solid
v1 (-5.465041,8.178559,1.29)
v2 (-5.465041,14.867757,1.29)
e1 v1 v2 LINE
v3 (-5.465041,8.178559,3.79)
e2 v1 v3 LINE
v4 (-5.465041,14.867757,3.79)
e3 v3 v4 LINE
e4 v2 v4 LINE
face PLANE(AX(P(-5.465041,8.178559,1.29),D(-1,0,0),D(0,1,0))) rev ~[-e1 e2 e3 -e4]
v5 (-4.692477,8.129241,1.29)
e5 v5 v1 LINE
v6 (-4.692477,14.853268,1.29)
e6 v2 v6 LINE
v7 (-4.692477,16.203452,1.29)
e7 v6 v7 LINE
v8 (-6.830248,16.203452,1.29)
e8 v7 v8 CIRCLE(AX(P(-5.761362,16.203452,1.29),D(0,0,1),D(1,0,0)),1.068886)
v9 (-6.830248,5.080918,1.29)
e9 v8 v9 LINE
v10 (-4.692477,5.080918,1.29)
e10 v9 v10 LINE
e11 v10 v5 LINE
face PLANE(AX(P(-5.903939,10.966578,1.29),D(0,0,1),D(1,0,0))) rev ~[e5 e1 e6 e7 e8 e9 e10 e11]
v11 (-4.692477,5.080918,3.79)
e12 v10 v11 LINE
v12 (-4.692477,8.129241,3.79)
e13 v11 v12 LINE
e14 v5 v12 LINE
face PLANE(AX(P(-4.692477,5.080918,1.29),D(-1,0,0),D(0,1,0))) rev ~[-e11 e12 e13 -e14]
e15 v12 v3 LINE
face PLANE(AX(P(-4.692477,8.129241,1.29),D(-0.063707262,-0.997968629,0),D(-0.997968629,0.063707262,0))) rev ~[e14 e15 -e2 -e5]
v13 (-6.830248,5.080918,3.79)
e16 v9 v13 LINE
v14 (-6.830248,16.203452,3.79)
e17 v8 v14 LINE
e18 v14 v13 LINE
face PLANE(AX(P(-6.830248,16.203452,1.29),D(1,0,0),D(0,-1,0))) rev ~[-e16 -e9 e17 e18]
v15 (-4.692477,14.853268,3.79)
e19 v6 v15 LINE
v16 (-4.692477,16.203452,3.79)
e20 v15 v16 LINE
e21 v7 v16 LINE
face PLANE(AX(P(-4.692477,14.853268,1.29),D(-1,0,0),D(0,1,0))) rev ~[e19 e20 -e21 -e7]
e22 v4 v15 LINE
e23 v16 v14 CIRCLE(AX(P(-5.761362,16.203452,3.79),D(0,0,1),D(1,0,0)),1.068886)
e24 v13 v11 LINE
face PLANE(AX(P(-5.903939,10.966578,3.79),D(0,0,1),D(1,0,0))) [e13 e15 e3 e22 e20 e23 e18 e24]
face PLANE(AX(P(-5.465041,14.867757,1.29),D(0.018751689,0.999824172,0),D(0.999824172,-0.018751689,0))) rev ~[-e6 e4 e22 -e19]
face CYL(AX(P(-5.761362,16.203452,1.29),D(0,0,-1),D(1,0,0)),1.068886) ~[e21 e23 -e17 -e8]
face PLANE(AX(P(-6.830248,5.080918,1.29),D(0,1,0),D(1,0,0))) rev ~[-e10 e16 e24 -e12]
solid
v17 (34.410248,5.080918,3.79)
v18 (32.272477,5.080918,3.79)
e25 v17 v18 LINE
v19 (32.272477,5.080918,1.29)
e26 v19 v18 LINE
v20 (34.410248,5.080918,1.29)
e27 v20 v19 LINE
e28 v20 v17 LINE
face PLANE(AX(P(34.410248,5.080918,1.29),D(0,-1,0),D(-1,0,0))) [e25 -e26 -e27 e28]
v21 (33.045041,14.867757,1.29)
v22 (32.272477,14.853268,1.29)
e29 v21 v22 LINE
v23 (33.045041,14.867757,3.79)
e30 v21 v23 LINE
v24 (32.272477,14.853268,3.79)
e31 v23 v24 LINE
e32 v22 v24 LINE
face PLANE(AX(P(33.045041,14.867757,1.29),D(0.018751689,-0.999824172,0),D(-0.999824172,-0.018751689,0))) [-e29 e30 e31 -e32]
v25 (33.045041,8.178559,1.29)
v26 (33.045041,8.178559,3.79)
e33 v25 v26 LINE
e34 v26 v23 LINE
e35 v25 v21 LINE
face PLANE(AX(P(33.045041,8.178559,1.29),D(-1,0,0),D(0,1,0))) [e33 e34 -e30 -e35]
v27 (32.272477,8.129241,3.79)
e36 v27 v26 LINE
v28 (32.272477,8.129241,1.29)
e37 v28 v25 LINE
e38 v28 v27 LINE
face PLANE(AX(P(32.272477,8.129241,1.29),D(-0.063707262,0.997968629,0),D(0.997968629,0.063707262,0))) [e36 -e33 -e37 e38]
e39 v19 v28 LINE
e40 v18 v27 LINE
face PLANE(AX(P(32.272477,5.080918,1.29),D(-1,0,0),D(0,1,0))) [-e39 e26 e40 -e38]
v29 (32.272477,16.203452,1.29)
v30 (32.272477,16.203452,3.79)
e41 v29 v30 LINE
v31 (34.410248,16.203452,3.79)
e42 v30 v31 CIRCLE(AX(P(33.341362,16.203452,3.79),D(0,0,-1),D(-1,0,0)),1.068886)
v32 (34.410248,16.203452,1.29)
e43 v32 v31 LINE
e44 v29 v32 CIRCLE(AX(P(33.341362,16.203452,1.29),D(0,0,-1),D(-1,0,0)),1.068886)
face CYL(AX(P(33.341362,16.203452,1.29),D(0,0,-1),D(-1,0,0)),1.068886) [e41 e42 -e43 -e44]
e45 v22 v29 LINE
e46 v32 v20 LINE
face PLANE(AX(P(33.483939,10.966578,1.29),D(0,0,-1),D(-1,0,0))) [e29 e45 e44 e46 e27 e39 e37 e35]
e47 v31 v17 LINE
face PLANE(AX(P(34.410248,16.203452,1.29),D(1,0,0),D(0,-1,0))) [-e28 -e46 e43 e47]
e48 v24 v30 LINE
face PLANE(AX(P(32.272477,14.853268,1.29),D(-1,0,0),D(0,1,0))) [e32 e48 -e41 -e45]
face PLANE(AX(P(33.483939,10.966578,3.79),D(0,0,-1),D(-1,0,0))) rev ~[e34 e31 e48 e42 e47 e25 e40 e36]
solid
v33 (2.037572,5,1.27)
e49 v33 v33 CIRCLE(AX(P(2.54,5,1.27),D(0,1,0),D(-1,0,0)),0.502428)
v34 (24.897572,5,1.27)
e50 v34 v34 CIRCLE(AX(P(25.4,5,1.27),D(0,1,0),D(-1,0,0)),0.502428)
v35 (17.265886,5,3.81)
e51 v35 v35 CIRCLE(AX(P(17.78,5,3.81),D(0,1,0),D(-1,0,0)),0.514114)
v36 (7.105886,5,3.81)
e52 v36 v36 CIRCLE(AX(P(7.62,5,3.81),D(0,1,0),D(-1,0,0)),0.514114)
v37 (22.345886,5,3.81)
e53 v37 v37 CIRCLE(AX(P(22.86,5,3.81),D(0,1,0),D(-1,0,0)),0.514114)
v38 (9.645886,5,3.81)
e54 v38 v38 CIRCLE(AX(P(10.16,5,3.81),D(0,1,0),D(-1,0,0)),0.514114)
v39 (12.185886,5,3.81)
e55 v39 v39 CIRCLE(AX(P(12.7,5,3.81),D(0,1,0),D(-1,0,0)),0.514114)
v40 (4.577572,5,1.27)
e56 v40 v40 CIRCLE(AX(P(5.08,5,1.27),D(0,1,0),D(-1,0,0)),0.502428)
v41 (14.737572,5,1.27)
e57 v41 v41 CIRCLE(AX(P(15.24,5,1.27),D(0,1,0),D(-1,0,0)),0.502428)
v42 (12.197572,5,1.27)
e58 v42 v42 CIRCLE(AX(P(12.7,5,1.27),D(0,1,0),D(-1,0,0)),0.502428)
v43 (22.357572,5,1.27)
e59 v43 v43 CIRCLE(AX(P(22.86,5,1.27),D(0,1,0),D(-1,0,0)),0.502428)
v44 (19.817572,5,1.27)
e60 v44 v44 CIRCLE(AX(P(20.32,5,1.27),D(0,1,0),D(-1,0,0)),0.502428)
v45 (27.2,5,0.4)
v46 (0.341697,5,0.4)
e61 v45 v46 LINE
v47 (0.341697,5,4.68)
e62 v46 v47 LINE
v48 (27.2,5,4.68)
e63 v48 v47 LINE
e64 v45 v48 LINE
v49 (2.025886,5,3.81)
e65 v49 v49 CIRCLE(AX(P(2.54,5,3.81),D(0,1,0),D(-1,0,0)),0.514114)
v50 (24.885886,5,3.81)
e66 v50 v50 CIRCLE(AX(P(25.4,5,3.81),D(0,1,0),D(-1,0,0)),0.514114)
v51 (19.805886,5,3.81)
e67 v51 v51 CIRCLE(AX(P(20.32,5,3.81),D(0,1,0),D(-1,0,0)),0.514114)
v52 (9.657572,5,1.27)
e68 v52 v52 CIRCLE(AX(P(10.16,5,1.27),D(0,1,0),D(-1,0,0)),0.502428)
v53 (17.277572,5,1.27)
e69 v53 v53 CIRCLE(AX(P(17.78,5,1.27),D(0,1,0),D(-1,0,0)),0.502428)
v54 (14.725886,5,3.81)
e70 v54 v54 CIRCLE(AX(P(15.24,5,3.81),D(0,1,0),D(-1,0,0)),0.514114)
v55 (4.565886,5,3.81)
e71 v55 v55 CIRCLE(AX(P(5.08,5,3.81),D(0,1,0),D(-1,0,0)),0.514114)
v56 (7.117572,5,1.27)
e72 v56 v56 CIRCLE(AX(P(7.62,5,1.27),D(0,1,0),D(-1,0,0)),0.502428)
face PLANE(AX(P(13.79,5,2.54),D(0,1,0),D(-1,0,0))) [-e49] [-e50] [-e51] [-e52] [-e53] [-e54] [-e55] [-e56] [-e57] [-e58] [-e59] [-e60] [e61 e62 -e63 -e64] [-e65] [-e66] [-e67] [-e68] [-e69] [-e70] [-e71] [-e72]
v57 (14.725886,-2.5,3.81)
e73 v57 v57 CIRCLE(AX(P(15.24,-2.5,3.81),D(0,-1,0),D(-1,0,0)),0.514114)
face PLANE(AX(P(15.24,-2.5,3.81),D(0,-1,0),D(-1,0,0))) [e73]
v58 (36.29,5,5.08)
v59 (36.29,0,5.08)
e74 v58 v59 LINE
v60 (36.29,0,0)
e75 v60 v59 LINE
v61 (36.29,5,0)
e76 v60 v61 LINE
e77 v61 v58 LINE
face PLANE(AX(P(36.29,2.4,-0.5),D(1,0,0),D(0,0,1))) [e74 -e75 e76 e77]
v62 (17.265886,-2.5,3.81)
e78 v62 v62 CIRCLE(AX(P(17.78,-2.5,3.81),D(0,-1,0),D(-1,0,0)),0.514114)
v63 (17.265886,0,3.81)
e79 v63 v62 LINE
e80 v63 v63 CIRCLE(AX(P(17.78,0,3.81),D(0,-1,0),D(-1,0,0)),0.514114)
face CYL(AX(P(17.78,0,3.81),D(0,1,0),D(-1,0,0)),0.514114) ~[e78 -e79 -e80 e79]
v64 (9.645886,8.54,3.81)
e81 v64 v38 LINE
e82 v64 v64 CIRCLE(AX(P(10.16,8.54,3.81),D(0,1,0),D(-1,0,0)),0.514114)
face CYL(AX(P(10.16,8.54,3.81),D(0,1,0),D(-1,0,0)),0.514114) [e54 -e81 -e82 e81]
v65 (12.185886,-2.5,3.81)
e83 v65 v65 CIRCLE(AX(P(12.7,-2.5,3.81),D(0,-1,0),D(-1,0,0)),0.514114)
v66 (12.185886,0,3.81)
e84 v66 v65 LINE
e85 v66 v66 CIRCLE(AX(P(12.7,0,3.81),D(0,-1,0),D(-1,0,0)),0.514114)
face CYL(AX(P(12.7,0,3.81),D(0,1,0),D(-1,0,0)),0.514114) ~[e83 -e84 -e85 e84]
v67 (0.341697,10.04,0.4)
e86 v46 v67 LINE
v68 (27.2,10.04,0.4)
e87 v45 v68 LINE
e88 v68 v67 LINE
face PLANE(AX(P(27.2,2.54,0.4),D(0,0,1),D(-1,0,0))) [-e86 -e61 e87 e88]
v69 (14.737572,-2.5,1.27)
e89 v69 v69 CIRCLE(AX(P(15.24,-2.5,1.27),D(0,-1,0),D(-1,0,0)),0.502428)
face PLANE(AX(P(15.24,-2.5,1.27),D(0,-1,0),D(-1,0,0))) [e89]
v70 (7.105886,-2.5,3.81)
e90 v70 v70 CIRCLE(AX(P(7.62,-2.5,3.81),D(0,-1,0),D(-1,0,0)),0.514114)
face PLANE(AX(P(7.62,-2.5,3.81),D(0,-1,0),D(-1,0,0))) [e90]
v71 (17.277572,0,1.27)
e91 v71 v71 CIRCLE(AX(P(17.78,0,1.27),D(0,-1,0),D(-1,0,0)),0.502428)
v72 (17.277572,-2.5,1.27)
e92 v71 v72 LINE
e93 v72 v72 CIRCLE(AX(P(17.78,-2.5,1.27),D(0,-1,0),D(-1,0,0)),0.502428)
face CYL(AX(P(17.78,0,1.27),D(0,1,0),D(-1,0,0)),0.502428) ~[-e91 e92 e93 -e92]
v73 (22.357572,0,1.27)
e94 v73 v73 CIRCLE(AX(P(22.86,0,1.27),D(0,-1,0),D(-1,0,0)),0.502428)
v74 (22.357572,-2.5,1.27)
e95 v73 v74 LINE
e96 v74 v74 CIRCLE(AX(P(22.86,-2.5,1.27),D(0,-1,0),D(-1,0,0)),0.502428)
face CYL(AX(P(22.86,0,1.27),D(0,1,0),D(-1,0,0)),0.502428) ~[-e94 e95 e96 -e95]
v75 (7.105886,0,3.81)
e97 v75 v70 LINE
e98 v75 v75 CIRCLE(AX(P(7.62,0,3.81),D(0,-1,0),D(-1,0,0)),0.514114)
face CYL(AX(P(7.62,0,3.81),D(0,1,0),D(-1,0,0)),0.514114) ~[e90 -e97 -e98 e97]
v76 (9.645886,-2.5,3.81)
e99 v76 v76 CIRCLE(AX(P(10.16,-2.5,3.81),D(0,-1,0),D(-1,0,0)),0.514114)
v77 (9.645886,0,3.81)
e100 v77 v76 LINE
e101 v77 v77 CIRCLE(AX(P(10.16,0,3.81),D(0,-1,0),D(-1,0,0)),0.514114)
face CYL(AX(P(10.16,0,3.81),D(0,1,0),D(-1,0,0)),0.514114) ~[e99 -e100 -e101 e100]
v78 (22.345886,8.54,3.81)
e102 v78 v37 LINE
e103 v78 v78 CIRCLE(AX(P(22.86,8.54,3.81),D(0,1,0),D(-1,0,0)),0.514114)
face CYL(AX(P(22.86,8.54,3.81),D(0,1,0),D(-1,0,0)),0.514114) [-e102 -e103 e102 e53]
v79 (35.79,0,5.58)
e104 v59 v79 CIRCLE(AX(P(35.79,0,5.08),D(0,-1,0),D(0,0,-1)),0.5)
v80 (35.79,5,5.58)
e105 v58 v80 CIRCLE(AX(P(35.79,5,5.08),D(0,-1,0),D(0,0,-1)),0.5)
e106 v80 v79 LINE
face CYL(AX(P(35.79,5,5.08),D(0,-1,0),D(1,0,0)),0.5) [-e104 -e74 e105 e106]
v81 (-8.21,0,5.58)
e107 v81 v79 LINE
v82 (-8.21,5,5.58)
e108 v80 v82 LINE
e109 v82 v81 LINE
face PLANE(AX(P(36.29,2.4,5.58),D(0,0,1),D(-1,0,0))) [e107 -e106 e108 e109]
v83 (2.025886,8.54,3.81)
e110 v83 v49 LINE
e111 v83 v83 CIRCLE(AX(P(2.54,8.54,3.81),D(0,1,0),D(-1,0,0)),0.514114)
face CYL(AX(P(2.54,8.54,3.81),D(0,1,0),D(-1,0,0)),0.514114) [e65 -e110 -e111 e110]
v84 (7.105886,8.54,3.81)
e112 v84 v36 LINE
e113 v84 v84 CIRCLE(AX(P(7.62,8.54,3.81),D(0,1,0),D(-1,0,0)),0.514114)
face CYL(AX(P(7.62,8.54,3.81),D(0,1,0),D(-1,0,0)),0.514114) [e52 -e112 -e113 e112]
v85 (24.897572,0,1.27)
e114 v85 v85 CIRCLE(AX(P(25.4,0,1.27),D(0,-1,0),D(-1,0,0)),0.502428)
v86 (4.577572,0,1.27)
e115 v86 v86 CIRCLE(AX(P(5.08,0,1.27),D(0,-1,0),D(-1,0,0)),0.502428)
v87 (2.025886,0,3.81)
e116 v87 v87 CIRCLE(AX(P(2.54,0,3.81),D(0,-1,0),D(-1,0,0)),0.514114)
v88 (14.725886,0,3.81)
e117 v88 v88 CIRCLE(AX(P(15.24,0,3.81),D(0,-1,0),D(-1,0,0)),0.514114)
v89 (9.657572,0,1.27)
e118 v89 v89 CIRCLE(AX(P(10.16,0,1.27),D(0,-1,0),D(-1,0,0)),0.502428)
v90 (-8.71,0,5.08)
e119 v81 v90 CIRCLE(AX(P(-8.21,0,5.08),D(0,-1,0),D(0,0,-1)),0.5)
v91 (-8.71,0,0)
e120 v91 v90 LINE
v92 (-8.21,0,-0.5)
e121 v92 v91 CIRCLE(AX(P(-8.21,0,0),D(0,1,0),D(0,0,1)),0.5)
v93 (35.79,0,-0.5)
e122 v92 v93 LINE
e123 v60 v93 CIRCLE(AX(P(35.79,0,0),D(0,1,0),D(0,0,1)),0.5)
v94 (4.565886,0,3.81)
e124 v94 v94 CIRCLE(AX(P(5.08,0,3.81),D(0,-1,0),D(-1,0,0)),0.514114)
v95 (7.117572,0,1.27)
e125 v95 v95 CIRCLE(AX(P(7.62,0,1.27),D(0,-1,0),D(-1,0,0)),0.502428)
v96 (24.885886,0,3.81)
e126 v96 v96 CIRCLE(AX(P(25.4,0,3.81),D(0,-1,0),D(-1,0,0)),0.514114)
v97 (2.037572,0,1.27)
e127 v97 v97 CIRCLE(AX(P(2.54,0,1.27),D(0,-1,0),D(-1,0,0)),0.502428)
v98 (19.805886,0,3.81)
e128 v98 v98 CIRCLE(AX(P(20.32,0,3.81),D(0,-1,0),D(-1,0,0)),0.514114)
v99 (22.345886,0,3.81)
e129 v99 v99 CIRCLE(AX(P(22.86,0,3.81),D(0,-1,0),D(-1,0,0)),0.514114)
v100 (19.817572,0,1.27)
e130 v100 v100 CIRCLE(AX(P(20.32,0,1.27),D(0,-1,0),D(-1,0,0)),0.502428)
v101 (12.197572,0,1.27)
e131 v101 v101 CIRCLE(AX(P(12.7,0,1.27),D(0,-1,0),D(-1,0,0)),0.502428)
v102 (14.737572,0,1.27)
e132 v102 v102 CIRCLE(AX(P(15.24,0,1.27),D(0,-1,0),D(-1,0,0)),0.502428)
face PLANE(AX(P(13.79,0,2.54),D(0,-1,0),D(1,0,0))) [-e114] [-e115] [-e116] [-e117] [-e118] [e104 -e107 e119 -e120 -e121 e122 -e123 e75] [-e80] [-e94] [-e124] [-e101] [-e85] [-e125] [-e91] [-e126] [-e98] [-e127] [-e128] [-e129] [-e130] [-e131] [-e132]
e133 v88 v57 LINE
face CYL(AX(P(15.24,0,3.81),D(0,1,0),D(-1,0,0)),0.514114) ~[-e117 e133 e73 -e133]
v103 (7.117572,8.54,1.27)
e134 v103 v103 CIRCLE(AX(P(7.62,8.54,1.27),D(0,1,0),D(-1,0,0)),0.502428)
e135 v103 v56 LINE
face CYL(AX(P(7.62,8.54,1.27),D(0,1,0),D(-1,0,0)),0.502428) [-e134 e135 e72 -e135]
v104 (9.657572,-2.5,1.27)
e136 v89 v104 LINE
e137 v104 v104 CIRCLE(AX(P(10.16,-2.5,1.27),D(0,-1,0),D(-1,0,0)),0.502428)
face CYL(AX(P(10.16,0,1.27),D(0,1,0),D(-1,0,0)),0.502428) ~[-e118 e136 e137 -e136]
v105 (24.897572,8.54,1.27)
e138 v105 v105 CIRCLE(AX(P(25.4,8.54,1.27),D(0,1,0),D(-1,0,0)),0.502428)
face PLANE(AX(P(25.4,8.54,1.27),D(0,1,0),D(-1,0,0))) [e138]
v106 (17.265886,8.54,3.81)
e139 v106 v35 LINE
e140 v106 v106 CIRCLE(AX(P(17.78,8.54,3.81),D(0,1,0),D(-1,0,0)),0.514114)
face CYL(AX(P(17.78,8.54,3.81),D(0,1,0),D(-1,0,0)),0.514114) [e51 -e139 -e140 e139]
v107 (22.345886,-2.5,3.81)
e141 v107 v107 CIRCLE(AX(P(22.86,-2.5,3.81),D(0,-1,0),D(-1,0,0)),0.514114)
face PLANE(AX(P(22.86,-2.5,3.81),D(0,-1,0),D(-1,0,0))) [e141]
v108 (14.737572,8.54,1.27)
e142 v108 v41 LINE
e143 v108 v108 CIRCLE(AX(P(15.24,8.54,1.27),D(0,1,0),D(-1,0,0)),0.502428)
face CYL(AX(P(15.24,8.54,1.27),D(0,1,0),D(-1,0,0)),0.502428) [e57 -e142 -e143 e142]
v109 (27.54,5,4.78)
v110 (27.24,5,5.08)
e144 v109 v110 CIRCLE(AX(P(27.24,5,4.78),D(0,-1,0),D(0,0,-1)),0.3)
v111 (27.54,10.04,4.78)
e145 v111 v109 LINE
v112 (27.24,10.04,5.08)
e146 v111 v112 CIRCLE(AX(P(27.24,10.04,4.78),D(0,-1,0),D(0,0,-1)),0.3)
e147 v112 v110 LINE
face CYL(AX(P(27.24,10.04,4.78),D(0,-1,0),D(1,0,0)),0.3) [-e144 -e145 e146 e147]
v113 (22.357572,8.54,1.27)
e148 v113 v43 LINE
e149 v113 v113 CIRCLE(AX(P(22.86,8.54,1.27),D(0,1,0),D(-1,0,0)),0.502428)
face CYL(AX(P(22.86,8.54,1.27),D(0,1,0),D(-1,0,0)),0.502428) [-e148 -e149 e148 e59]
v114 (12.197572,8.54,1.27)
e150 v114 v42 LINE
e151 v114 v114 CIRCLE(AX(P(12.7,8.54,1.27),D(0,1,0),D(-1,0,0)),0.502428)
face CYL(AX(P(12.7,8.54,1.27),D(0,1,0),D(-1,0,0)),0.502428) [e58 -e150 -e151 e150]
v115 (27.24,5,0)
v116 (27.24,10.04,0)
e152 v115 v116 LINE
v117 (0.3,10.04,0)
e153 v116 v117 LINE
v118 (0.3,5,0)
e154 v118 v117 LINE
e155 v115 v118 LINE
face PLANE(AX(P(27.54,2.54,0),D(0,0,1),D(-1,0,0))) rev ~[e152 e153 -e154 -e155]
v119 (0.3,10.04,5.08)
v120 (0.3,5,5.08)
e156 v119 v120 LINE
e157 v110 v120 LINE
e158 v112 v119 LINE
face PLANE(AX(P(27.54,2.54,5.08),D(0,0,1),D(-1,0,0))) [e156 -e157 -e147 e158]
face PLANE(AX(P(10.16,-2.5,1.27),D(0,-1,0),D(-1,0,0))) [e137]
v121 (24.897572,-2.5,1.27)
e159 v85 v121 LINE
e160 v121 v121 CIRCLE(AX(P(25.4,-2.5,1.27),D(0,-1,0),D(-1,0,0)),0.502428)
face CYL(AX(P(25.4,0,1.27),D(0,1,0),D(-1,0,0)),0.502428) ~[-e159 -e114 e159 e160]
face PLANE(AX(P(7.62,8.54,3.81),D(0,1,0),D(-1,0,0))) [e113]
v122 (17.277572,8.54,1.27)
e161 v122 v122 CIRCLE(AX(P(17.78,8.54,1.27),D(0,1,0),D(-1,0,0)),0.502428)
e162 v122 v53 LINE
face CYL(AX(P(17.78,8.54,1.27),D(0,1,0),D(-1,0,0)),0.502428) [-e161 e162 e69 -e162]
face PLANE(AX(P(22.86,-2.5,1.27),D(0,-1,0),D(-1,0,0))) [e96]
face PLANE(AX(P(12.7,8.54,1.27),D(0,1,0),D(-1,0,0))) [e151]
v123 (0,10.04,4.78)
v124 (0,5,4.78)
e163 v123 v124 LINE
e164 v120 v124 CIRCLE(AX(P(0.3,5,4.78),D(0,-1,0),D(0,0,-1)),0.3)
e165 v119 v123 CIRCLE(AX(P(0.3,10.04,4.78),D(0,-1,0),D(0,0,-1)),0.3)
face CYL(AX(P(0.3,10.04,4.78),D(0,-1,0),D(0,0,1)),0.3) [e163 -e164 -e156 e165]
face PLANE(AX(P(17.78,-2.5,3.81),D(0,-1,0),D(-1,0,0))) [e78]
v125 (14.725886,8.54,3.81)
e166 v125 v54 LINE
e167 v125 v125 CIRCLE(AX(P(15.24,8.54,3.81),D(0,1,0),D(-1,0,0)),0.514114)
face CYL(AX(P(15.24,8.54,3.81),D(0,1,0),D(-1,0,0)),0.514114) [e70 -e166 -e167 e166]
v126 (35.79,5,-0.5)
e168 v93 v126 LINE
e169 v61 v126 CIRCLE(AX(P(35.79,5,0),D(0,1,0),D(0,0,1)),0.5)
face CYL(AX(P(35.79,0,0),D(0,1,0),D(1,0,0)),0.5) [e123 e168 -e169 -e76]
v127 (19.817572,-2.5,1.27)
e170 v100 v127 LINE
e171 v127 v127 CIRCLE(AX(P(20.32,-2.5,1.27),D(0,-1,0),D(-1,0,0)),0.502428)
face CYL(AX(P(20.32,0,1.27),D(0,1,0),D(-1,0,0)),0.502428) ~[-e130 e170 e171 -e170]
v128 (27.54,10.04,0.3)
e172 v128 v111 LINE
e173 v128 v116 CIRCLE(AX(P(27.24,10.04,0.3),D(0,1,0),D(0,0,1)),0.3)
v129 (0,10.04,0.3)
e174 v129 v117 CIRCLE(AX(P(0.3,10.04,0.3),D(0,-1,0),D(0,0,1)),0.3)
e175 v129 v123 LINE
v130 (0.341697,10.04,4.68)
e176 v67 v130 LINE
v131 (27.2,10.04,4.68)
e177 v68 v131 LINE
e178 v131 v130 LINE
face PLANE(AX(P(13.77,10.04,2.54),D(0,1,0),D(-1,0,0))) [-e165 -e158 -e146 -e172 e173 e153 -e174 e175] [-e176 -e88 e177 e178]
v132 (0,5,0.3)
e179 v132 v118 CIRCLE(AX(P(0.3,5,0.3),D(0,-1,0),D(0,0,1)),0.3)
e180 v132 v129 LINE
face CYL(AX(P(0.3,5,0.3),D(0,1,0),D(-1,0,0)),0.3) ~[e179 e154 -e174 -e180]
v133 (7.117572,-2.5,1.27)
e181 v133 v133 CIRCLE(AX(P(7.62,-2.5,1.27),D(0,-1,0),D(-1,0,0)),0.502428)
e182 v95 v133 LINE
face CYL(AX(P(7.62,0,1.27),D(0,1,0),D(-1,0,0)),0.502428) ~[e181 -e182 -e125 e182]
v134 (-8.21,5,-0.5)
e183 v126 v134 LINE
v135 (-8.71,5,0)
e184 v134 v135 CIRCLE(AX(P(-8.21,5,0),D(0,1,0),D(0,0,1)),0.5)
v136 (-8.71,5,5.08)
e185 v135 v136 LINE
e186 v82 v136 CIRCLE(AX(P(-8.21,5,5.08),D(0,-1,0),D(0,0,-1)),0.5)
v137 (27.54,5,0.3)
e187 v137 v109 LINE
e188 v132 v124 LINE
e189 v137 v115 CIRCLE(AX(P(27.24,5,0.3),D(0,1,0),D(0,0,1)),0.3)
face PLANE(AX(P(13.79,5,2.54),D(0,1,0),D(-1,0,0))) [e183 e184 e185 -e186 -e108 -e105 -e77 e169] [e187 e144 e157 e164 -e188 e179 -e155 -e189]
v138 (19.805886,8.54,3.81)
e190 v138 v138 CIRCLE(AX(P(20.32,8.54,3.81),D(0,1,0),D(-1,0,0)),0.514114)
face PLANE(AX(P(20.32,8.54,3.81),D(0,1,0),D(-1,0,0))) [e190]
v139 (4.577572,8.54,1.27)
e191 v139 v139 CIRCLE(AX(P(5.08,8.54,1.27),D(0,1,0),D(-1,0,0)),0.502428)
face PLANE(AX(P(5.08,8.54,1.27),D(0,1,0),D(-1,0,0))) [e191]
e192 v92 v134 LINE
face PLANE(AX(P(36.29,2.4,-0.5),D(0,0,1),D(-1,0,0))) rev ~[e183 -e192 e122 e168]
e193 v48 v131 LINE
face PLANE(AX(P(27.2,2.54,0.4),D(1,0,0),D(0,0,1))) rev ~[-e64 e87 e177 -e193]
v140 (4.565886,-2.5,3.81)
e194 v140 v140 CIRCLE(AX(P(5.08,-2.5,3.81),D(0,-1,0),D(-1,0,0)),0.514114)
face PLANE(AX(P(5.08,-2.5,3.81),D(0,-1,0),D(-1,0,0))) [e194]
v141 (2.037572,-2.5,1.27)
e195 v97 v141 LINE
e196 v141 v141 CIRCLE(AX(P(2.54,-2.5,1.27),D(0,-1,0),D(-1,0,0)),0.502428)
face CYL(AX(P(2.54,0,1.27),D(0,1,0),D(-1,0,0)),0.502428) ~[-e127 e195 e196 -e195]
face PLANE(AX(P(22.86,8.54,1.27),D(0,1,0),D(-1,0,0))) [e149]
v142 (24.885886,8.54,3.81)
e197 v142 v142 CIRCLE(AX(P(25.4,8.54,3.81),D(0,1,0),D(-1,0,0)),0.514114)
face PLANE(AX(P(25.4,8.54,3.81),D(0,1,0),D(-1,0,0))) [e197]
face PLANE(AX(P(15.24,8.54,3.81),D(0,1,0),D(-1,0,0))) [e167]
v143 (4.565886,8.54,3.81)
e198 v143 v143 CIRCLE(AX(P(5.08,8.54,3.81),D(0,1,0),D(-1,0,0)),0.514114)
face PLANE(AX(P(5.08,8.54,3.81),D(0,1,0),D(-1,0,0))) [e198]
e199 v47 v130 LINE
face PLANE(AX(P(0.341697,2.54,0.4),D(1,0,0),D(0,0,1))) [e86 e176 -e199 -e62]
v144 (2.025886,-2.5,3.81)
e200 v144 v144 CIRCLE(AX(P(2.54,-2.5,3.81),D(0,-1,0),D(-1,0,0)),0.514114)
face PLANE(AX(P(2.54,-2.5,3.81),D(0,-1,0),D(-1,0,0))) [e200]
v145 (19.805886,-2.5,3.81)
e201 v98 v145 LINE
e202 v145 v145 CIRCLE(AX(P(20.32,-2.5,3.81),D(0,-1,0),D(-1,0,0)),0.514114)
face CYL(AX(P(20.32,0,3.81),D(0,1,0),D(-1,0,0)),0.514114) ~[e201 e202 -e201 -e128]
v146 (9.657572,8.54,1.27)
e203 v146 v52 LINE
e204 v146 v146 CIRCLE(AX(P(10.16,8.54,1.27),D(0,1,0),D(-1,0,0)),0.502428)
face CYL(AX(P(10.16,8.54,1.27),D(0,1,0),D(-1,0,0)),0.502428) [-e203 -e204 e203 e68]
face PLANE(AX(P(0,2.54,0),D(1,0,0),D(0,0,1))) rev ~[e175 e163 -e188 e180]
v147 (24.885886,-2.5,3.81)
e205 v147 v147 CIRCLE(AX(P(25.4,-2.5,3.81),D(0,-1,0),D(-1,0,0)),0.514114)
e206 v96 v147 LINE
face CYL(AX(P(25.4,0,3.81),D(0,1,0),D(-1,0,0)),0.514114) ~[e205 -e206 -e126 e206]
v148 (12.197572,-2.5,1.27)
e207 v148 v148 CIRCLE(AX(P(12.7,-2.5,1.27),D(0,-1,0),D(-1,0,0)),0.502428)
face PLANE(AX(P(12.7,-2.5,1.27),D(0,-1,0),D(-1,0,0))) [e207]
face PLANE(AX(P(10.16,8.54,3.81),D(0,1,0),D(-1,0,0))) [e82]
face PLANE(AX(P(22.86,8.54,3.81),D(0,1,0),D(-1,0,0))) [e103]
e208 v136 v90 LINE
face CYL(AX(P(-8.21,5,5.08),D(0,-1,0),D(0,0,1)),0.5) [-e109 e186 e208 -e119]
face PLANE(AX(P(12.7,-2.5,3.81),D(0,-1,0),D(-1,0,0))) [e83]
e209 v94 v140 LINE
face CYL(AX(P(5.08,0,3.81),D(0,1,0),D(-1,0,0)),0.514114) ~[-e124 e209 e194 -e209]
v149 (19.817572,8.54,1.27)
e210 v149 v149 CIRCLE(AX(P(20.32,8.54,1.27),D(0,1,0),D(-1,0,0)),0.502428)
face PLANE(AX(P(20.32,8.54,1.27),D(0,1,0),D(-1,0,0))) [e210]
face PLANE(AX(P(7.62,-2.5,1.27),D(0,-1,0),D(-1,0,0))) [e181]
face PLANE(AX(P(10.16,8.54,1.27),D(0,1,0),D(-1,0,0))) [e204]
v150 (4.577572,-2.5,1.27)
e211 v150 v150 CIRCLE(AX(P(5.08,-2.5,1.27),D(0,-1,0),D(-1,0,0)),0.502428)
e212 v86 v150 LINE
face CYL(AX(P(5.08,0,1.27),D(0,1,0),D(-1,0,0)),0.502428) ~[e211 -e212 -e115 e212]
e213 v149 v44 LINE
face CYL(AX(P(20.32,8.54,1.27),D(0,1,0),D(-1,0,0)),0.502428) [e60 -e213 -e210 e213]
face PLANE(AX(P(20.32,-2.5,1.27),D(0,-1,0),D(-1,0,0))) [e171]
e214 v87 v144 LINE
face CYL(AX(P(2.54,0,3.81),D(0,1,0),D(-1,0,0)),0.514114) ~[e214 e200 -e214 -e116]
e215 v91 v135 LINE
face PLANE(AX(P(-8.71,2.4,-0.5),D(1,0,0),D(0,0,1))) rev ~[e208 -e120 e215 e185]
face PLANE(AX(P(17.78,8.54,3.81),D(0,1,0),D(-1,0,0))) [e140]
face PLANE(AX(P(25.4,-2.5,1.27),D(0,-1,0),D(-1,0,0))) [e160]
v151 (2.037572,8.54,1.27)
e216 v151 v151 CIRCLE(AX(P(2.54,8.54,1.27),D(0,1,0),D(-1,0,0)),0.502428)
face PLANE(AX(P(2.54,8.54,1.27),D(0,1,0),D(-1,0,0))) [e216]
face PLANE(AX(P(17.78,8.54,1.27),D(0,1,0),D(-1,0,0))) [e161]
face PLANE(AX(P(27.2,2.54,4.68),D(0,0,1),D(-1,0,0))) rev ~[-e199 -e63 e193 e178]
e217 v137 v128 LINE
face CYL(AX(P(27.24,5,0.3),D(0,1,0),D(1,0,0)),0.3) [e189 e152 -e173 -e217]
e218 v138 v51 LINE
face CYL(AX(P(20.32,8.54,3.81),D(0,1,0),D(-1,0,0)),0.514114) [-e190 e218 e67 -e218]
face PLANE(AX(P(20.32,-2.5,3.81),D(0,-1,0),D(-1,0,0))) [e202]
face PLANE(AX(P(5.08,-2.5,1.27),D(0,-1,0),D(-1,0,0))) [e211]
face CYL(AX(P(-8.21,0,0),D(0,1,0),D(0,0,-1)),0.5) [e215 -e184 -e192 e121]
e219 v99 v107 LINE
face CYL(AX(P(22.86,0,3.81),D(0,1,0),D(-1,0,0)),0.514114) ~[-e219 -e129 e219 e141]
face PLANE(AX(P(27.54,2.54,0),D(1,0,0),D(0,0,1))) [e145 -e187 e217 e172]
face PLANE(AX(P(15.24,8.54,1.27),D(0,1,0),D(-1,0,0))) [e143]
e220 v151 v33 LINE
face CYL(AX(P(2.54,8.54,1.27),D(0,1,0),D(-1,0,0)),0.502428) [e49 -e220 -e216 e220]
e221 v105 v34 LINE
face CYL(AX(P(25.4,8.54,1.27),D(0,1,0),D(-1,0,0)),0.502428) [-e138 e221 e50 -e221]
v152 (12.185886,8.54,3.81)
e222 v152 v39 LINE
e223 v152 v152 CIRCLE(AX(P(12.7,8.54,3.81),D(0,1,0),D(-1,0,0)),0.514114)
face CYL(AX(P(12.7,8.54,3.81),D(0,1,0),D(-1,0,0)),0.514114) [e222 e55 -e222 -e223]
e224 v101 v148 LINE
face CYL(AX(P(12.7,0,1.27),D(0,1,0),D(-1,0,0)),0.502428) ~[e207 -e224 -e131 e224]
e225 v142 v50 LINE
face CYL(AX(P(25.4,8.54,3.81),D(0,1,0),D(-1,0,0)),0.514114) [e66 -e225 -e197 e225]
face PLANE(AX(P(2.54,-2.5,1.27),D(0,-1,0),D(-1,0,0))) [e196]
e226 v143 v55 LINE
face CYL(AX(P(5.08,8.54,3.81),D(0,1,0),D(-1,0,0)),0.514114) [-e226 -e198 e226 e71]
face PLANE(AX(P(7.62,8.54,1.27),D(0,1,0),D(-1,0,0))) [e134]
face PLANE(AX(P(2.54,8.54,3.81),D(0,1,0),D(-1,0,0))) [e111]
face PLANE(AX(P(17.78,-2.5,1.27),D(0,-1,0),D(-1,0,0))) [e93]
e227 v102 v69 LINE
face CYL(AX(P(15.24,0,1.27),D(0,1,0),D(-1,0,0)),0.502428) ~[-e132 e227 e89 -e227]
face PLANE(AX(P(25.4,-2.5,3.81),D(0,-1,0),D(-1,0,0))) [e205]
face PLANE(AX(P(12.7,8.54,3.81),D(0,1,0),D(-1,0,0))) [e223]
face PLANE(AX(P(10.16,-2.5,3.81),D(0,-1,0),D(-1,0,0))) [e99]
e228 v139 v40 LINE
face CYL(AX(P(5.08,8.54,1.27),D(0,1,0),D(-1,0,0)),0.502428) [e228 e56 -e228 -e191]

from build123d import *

# Parameters (mm, degrees)
SKETCH_2_W             = 24.08
SKETCH_2_H             = 1
EXTRUDE_1_DEPTH        = 5.08
SKETCH_3_R             = 0.514113779
SKETCH_3_R_2           = 0.502427848
EXTRUDE_2_DEPTH        = 2.5
PATTERN_LINEAR_1_COUNT = 10
PATTERN_LINEAR_1_PITCH = 2.54
SKETCH_4_W             = 30.218019713
SKETCH_4_H             = 8.471214157
CUT_EXTRUDE_1_DEPTH    = 5.08
EXTRUDE_START          = 6
SKETCH_5_R             = 0.514113779
SKETCH_5_R_2           = 0.502427848
EXTRUDE_3_DEPTH        = 6
SKETCH_6_W             = 45
SKETCH_6_H             = 6.08
SKETCH_6_W_2           = 27.54
SKETCH_6_H_2           = 5.08
EXTRUDE_4_DEPTH        = 2.4
SKETCH_7_W             = 27.54
SKETCH_7_H             = 5.08
SKETCH_7_W_2           = 26.85830286
SKETCH_7_H_2           = 4.28
EXTRUDE_6_DEPTH        = 7.5
SKETCH_8_W             = 45
SKETCH_8_H             = 6.08
EXTRUDE_7_DEPTH        = 2.6
EXTRUDE_8_DEPTH        = 1.25
EXTRUDE_8_DEPTH_BACK   = 1.25
EXTRUDE_8_2_DEPTH      = 1.25
EXTRUDE_8_2_DEPTH_BACK = 1.25
FILLET_1_R             = 0.3
FILLET_2_R             = 0.5


with BuildPart() as part:
    # Эскиз2 → Вытянуть1 (new body)
    with BuildSketch(Plane.XY):
        Polygon((0, 0), (27.54, 0), (27.54, 2.54), (27.24, 2.54), (27.24, 3.34), (27.54, 3.34), (27.54, 7.62), (0, 7.62), (0, 3.34), (0.3, 3.34), (0.3, 2.54), (0, 2.54), align=None)
        with Locations((13.77, 5.5)):
            Rectangle(SKETCH_2_W, SKETCH_2_H, mode=Mode.SUBTRACT)
    extrude(amount=EXTRUDE_1_DEPTH)

    # Эскиз3 → Вытянуть2 (add)
    with BuildSketch(Plane.XZ):
        with Locations(Location((2.54, 3.81, 0), (0, 0, 180))):
            Circle(SKETCH_3_R)
        with Locations(Location((2.54, 1.27, 0), (0, 0, 180))):
            Circle(SKETCH_3_R_2)
    extrude_2 = extrude(amount=EXTRUDE_2_DEPTH)

    # Линейный массив1: Вытянуть2 ×10
    with Locations(*[(i * PATTERN_LINEAR_1_PITCH, 0, 0) for i in range(1, PATTERN_LINEAR_1_COUNT)]):
        add(extrude_2)

    # Эскиз4 → Вырез-Вытянуть1 (cut)
    with BuildSketch(Plane(origin=(0, 7.62, 0), x_dir=(-1, 0, 0), z_dir=(0, 1, 0))):
        with Locations((-13.970990144, 2.444099463)):
            Rectangle(SKETCH_4_W, SKETCH_4_H)
    extrude(amount=-CUT_EXTRUDE_1_DEPTH, mode=Mode.SUBTRACT)

    # Эскиз5 → Вытянуть3 (add)
    with BuildSketch(Plane(origin=(0, 2.54, 0), x_dir=(-1, 0, 0), z_dir=(0, 1, 0)).offset(EXTRUDE_START)):
        with Locations((-25.4, 3.81)):
            Circle(SKETCH_5_R)
        with Locations((-22.86, 3.81)):
            Circle(SKETCH_5_R)
        with Locations((-20.32, 3.81)):
            Circle(SKETCH_5_R)
        with Locations((-17.78, 3.81)):
            Circle(SKETCH_5_R)
        with Locations((-15.24, 3.81)):
            Circle(SKETCH_5_R)
        with Locations((-12.7, 3.81)):
            Circle(SKETCH_5_R)
        with Locations((-10.16, 3.81)):
            Circle(SKETCH_5_R)
        with Locations((-7.62, 3.81)):
            Circle(SKETCH_5_R)
        with Locations((-5.08, 3.81)):
            Circle(SKETCH_5_R)
        with Locations((-2.54, 3.81)):
            Circle(SKETCH_5_R)
        with Locations((-2.54, 1.27)):
            Circle(SKETCH_5_R_2)
        with Locations((-5.08, 1.27)):
            Circle(SKETCH_5_R_2)
        with Locations((-7.62, 1.27)):
            Circle(SKETCH_5_R_2)
        with Locations((-10.16, 1.27)):
            Circle(SKETCH_5_R_2)
        with Locations((-12.7, 1.27)):
            Circle(SKETCH_5_R_2)
        with Locations((-15.24, 1.27)):
            Circle(SKETCH_5_R_2)
        with Locations((-17.78, 1.27)):
            Circle(SKETCH_5_R_2)
        with Locations((-20.32, 1.27)):
            Circle(SKETCH_5_R_2)
        with Locations((-22.86, 1.27)):
            Circle(SKETCH_5_R_2)
        with Locations((-25.4, 1.27)):
            Circle(SKETCH_5_R_2)
    extrude(amount=-EXTRUDE_3_DEPTH)

    # Эскиз6 → Вытянуть4 (add)
    with BuildSketch(Plane.XZ):
        with Locations((13.79, 2.54)):
            Rectangle(SKETCH_6_W, SKETCH_6_H)
        with Locations((13.77, 2.54)):
            Rectangle(SKETCH_6_W_2, SKETCH_6_H_2, mode=Mode.SUBTRACT)
    extrude(amount=-EXTRUDE_4_DEPTH)

    # Эскиз7 → Вытянуть6 (add)
    with BuildSketch(Plane(origin=(0, 2.54, 0), x_dir=(-1, 0, 0), z_dir=(0, 1, 0))):
        with Locations((-13.77, 2.54)):
            Rectangle(SKETCH_7_W, SKETCH_7_H)
        with Locations((-13.77084857, 2.54)):
            Rectangle(SKETCH_7_W_2, SKETCH_7_H_2, mode=Mode.SUBTRACT)
    extrude(amount=EXTRUDE_6_DEPTH)

    # Эскиз8 → Вытянуть7 (add)
    with BuildSketch(Plane(origin=(0, 2.4, 0), x_dir=(-1, 0, 0), z_dir=(0, 1, 0))):
        with Locations((-13.79, 2.54)):
            Rectangle(SKETCH_8_W, SKETCH_8_H)
    extrude(amount=EXTRUDE_7_DEPTH)

    # Скругление1
    fillet_1_edges = [part.edges().sort_by_distance(p)[0] for p in [
        (0, 7.52, 0),
        (27.54, 7.52, 0),
        (27.54, 7.52, 5.08),
        (0, 7.52, 5.08),
    ]]
    fillet(fillet_1_edges, radius=FILLET_1_R)

    # Скругление2
    fillet_2_edges = [part.edges().sort_by_distance(p)[0] for p in [
        (-8.71, 2.5, -0.5),
        (-8.71, 2.5, 5.58),
        (36.29, 2.5, 5.58),
        (36.29, 2.5, -0.5),
    ]]
    fillet(fillet_2_edges, radius=FILLET_2_R)


with BuildPart() as body_2:
    # Эскиз9 → Вытянуть8 (new, two sides: drawn at the far end of the back side and taken through both)
    with BuildSketch(Plane.XY.offset(2.54).offset(-EXTRUDE_8_DEPTH_BACK)):
        with BuildLine():
            Line((-6.83024797, 5.080918368), (-4.692476739, 5.080918368))
            Line((-4.692476739, 5.080918368), (-4.692476739, 8.129240677))
            Line((-4.692476739, 8.129240677), (-5.465040968, 8.178558812))
            Line((-5.465040968, 8.178558812), (-5.465040968, 14.867757009))
            Line((-5.465040968, 14.867757009), (-4.692476739, 14.853267577))
            Line((-4.692476739, 14.853267577), (-4.692476739, 16.203451679))
            ThreePointArc((-4.692476739, 16.203451679), (-5.761362355, 17.272337295), (-6.83024797, 16.203451679))
            Line((-6.83024797, 16.203451679), (-6.83024797, 5.080918368))
        make_face()
    extrude(amount=EXTRUDE_8_DEPTH + EXTRUDE_8_DEPTH_BACK)


with BuildPart() as body_3:
    # Эскиз9 → Extrude 8 2 (new, two sides: drawn at the far end of the back side and taken through both)
    with BuildSketch(Plane.XY.offset(2.54).offset(-EXTRUDE_8_2_DEPTH_BACK)):
        with BuildLine():
            Line((32.272476739, 5.080918368), (32.272476739, 8.129240677))
            Line((32.272476739, 8.129240677), (33.045040968, 8.178558812))
            Line((33.045040968, 8.178558812), (33.045040968, 14.867757009))
            Line((33.045040968, 14.867757009), (32.272476739, 14.853267577))
            Line((32.272476739, 14.853267577), (32.272476739, 16.203451679))
            ThreePointArc((32.272476739, 16.203451679), (33.341362355, 17.272337295), (34.41024797, 16.203451679))
            Line((34.41024797, 16.203451679), (34.41024797, 5.080918368))
            Line((34.41024797, 5.080918368), (32.272476739, 5.080918368))
        make_face()
    extrude(amount=EXTRUDE_8_2_DEPTH + EXTRUDE_8_2_DEPTH_BACK)


solid = Compound([part.part, body_2.part, body_3.part])
